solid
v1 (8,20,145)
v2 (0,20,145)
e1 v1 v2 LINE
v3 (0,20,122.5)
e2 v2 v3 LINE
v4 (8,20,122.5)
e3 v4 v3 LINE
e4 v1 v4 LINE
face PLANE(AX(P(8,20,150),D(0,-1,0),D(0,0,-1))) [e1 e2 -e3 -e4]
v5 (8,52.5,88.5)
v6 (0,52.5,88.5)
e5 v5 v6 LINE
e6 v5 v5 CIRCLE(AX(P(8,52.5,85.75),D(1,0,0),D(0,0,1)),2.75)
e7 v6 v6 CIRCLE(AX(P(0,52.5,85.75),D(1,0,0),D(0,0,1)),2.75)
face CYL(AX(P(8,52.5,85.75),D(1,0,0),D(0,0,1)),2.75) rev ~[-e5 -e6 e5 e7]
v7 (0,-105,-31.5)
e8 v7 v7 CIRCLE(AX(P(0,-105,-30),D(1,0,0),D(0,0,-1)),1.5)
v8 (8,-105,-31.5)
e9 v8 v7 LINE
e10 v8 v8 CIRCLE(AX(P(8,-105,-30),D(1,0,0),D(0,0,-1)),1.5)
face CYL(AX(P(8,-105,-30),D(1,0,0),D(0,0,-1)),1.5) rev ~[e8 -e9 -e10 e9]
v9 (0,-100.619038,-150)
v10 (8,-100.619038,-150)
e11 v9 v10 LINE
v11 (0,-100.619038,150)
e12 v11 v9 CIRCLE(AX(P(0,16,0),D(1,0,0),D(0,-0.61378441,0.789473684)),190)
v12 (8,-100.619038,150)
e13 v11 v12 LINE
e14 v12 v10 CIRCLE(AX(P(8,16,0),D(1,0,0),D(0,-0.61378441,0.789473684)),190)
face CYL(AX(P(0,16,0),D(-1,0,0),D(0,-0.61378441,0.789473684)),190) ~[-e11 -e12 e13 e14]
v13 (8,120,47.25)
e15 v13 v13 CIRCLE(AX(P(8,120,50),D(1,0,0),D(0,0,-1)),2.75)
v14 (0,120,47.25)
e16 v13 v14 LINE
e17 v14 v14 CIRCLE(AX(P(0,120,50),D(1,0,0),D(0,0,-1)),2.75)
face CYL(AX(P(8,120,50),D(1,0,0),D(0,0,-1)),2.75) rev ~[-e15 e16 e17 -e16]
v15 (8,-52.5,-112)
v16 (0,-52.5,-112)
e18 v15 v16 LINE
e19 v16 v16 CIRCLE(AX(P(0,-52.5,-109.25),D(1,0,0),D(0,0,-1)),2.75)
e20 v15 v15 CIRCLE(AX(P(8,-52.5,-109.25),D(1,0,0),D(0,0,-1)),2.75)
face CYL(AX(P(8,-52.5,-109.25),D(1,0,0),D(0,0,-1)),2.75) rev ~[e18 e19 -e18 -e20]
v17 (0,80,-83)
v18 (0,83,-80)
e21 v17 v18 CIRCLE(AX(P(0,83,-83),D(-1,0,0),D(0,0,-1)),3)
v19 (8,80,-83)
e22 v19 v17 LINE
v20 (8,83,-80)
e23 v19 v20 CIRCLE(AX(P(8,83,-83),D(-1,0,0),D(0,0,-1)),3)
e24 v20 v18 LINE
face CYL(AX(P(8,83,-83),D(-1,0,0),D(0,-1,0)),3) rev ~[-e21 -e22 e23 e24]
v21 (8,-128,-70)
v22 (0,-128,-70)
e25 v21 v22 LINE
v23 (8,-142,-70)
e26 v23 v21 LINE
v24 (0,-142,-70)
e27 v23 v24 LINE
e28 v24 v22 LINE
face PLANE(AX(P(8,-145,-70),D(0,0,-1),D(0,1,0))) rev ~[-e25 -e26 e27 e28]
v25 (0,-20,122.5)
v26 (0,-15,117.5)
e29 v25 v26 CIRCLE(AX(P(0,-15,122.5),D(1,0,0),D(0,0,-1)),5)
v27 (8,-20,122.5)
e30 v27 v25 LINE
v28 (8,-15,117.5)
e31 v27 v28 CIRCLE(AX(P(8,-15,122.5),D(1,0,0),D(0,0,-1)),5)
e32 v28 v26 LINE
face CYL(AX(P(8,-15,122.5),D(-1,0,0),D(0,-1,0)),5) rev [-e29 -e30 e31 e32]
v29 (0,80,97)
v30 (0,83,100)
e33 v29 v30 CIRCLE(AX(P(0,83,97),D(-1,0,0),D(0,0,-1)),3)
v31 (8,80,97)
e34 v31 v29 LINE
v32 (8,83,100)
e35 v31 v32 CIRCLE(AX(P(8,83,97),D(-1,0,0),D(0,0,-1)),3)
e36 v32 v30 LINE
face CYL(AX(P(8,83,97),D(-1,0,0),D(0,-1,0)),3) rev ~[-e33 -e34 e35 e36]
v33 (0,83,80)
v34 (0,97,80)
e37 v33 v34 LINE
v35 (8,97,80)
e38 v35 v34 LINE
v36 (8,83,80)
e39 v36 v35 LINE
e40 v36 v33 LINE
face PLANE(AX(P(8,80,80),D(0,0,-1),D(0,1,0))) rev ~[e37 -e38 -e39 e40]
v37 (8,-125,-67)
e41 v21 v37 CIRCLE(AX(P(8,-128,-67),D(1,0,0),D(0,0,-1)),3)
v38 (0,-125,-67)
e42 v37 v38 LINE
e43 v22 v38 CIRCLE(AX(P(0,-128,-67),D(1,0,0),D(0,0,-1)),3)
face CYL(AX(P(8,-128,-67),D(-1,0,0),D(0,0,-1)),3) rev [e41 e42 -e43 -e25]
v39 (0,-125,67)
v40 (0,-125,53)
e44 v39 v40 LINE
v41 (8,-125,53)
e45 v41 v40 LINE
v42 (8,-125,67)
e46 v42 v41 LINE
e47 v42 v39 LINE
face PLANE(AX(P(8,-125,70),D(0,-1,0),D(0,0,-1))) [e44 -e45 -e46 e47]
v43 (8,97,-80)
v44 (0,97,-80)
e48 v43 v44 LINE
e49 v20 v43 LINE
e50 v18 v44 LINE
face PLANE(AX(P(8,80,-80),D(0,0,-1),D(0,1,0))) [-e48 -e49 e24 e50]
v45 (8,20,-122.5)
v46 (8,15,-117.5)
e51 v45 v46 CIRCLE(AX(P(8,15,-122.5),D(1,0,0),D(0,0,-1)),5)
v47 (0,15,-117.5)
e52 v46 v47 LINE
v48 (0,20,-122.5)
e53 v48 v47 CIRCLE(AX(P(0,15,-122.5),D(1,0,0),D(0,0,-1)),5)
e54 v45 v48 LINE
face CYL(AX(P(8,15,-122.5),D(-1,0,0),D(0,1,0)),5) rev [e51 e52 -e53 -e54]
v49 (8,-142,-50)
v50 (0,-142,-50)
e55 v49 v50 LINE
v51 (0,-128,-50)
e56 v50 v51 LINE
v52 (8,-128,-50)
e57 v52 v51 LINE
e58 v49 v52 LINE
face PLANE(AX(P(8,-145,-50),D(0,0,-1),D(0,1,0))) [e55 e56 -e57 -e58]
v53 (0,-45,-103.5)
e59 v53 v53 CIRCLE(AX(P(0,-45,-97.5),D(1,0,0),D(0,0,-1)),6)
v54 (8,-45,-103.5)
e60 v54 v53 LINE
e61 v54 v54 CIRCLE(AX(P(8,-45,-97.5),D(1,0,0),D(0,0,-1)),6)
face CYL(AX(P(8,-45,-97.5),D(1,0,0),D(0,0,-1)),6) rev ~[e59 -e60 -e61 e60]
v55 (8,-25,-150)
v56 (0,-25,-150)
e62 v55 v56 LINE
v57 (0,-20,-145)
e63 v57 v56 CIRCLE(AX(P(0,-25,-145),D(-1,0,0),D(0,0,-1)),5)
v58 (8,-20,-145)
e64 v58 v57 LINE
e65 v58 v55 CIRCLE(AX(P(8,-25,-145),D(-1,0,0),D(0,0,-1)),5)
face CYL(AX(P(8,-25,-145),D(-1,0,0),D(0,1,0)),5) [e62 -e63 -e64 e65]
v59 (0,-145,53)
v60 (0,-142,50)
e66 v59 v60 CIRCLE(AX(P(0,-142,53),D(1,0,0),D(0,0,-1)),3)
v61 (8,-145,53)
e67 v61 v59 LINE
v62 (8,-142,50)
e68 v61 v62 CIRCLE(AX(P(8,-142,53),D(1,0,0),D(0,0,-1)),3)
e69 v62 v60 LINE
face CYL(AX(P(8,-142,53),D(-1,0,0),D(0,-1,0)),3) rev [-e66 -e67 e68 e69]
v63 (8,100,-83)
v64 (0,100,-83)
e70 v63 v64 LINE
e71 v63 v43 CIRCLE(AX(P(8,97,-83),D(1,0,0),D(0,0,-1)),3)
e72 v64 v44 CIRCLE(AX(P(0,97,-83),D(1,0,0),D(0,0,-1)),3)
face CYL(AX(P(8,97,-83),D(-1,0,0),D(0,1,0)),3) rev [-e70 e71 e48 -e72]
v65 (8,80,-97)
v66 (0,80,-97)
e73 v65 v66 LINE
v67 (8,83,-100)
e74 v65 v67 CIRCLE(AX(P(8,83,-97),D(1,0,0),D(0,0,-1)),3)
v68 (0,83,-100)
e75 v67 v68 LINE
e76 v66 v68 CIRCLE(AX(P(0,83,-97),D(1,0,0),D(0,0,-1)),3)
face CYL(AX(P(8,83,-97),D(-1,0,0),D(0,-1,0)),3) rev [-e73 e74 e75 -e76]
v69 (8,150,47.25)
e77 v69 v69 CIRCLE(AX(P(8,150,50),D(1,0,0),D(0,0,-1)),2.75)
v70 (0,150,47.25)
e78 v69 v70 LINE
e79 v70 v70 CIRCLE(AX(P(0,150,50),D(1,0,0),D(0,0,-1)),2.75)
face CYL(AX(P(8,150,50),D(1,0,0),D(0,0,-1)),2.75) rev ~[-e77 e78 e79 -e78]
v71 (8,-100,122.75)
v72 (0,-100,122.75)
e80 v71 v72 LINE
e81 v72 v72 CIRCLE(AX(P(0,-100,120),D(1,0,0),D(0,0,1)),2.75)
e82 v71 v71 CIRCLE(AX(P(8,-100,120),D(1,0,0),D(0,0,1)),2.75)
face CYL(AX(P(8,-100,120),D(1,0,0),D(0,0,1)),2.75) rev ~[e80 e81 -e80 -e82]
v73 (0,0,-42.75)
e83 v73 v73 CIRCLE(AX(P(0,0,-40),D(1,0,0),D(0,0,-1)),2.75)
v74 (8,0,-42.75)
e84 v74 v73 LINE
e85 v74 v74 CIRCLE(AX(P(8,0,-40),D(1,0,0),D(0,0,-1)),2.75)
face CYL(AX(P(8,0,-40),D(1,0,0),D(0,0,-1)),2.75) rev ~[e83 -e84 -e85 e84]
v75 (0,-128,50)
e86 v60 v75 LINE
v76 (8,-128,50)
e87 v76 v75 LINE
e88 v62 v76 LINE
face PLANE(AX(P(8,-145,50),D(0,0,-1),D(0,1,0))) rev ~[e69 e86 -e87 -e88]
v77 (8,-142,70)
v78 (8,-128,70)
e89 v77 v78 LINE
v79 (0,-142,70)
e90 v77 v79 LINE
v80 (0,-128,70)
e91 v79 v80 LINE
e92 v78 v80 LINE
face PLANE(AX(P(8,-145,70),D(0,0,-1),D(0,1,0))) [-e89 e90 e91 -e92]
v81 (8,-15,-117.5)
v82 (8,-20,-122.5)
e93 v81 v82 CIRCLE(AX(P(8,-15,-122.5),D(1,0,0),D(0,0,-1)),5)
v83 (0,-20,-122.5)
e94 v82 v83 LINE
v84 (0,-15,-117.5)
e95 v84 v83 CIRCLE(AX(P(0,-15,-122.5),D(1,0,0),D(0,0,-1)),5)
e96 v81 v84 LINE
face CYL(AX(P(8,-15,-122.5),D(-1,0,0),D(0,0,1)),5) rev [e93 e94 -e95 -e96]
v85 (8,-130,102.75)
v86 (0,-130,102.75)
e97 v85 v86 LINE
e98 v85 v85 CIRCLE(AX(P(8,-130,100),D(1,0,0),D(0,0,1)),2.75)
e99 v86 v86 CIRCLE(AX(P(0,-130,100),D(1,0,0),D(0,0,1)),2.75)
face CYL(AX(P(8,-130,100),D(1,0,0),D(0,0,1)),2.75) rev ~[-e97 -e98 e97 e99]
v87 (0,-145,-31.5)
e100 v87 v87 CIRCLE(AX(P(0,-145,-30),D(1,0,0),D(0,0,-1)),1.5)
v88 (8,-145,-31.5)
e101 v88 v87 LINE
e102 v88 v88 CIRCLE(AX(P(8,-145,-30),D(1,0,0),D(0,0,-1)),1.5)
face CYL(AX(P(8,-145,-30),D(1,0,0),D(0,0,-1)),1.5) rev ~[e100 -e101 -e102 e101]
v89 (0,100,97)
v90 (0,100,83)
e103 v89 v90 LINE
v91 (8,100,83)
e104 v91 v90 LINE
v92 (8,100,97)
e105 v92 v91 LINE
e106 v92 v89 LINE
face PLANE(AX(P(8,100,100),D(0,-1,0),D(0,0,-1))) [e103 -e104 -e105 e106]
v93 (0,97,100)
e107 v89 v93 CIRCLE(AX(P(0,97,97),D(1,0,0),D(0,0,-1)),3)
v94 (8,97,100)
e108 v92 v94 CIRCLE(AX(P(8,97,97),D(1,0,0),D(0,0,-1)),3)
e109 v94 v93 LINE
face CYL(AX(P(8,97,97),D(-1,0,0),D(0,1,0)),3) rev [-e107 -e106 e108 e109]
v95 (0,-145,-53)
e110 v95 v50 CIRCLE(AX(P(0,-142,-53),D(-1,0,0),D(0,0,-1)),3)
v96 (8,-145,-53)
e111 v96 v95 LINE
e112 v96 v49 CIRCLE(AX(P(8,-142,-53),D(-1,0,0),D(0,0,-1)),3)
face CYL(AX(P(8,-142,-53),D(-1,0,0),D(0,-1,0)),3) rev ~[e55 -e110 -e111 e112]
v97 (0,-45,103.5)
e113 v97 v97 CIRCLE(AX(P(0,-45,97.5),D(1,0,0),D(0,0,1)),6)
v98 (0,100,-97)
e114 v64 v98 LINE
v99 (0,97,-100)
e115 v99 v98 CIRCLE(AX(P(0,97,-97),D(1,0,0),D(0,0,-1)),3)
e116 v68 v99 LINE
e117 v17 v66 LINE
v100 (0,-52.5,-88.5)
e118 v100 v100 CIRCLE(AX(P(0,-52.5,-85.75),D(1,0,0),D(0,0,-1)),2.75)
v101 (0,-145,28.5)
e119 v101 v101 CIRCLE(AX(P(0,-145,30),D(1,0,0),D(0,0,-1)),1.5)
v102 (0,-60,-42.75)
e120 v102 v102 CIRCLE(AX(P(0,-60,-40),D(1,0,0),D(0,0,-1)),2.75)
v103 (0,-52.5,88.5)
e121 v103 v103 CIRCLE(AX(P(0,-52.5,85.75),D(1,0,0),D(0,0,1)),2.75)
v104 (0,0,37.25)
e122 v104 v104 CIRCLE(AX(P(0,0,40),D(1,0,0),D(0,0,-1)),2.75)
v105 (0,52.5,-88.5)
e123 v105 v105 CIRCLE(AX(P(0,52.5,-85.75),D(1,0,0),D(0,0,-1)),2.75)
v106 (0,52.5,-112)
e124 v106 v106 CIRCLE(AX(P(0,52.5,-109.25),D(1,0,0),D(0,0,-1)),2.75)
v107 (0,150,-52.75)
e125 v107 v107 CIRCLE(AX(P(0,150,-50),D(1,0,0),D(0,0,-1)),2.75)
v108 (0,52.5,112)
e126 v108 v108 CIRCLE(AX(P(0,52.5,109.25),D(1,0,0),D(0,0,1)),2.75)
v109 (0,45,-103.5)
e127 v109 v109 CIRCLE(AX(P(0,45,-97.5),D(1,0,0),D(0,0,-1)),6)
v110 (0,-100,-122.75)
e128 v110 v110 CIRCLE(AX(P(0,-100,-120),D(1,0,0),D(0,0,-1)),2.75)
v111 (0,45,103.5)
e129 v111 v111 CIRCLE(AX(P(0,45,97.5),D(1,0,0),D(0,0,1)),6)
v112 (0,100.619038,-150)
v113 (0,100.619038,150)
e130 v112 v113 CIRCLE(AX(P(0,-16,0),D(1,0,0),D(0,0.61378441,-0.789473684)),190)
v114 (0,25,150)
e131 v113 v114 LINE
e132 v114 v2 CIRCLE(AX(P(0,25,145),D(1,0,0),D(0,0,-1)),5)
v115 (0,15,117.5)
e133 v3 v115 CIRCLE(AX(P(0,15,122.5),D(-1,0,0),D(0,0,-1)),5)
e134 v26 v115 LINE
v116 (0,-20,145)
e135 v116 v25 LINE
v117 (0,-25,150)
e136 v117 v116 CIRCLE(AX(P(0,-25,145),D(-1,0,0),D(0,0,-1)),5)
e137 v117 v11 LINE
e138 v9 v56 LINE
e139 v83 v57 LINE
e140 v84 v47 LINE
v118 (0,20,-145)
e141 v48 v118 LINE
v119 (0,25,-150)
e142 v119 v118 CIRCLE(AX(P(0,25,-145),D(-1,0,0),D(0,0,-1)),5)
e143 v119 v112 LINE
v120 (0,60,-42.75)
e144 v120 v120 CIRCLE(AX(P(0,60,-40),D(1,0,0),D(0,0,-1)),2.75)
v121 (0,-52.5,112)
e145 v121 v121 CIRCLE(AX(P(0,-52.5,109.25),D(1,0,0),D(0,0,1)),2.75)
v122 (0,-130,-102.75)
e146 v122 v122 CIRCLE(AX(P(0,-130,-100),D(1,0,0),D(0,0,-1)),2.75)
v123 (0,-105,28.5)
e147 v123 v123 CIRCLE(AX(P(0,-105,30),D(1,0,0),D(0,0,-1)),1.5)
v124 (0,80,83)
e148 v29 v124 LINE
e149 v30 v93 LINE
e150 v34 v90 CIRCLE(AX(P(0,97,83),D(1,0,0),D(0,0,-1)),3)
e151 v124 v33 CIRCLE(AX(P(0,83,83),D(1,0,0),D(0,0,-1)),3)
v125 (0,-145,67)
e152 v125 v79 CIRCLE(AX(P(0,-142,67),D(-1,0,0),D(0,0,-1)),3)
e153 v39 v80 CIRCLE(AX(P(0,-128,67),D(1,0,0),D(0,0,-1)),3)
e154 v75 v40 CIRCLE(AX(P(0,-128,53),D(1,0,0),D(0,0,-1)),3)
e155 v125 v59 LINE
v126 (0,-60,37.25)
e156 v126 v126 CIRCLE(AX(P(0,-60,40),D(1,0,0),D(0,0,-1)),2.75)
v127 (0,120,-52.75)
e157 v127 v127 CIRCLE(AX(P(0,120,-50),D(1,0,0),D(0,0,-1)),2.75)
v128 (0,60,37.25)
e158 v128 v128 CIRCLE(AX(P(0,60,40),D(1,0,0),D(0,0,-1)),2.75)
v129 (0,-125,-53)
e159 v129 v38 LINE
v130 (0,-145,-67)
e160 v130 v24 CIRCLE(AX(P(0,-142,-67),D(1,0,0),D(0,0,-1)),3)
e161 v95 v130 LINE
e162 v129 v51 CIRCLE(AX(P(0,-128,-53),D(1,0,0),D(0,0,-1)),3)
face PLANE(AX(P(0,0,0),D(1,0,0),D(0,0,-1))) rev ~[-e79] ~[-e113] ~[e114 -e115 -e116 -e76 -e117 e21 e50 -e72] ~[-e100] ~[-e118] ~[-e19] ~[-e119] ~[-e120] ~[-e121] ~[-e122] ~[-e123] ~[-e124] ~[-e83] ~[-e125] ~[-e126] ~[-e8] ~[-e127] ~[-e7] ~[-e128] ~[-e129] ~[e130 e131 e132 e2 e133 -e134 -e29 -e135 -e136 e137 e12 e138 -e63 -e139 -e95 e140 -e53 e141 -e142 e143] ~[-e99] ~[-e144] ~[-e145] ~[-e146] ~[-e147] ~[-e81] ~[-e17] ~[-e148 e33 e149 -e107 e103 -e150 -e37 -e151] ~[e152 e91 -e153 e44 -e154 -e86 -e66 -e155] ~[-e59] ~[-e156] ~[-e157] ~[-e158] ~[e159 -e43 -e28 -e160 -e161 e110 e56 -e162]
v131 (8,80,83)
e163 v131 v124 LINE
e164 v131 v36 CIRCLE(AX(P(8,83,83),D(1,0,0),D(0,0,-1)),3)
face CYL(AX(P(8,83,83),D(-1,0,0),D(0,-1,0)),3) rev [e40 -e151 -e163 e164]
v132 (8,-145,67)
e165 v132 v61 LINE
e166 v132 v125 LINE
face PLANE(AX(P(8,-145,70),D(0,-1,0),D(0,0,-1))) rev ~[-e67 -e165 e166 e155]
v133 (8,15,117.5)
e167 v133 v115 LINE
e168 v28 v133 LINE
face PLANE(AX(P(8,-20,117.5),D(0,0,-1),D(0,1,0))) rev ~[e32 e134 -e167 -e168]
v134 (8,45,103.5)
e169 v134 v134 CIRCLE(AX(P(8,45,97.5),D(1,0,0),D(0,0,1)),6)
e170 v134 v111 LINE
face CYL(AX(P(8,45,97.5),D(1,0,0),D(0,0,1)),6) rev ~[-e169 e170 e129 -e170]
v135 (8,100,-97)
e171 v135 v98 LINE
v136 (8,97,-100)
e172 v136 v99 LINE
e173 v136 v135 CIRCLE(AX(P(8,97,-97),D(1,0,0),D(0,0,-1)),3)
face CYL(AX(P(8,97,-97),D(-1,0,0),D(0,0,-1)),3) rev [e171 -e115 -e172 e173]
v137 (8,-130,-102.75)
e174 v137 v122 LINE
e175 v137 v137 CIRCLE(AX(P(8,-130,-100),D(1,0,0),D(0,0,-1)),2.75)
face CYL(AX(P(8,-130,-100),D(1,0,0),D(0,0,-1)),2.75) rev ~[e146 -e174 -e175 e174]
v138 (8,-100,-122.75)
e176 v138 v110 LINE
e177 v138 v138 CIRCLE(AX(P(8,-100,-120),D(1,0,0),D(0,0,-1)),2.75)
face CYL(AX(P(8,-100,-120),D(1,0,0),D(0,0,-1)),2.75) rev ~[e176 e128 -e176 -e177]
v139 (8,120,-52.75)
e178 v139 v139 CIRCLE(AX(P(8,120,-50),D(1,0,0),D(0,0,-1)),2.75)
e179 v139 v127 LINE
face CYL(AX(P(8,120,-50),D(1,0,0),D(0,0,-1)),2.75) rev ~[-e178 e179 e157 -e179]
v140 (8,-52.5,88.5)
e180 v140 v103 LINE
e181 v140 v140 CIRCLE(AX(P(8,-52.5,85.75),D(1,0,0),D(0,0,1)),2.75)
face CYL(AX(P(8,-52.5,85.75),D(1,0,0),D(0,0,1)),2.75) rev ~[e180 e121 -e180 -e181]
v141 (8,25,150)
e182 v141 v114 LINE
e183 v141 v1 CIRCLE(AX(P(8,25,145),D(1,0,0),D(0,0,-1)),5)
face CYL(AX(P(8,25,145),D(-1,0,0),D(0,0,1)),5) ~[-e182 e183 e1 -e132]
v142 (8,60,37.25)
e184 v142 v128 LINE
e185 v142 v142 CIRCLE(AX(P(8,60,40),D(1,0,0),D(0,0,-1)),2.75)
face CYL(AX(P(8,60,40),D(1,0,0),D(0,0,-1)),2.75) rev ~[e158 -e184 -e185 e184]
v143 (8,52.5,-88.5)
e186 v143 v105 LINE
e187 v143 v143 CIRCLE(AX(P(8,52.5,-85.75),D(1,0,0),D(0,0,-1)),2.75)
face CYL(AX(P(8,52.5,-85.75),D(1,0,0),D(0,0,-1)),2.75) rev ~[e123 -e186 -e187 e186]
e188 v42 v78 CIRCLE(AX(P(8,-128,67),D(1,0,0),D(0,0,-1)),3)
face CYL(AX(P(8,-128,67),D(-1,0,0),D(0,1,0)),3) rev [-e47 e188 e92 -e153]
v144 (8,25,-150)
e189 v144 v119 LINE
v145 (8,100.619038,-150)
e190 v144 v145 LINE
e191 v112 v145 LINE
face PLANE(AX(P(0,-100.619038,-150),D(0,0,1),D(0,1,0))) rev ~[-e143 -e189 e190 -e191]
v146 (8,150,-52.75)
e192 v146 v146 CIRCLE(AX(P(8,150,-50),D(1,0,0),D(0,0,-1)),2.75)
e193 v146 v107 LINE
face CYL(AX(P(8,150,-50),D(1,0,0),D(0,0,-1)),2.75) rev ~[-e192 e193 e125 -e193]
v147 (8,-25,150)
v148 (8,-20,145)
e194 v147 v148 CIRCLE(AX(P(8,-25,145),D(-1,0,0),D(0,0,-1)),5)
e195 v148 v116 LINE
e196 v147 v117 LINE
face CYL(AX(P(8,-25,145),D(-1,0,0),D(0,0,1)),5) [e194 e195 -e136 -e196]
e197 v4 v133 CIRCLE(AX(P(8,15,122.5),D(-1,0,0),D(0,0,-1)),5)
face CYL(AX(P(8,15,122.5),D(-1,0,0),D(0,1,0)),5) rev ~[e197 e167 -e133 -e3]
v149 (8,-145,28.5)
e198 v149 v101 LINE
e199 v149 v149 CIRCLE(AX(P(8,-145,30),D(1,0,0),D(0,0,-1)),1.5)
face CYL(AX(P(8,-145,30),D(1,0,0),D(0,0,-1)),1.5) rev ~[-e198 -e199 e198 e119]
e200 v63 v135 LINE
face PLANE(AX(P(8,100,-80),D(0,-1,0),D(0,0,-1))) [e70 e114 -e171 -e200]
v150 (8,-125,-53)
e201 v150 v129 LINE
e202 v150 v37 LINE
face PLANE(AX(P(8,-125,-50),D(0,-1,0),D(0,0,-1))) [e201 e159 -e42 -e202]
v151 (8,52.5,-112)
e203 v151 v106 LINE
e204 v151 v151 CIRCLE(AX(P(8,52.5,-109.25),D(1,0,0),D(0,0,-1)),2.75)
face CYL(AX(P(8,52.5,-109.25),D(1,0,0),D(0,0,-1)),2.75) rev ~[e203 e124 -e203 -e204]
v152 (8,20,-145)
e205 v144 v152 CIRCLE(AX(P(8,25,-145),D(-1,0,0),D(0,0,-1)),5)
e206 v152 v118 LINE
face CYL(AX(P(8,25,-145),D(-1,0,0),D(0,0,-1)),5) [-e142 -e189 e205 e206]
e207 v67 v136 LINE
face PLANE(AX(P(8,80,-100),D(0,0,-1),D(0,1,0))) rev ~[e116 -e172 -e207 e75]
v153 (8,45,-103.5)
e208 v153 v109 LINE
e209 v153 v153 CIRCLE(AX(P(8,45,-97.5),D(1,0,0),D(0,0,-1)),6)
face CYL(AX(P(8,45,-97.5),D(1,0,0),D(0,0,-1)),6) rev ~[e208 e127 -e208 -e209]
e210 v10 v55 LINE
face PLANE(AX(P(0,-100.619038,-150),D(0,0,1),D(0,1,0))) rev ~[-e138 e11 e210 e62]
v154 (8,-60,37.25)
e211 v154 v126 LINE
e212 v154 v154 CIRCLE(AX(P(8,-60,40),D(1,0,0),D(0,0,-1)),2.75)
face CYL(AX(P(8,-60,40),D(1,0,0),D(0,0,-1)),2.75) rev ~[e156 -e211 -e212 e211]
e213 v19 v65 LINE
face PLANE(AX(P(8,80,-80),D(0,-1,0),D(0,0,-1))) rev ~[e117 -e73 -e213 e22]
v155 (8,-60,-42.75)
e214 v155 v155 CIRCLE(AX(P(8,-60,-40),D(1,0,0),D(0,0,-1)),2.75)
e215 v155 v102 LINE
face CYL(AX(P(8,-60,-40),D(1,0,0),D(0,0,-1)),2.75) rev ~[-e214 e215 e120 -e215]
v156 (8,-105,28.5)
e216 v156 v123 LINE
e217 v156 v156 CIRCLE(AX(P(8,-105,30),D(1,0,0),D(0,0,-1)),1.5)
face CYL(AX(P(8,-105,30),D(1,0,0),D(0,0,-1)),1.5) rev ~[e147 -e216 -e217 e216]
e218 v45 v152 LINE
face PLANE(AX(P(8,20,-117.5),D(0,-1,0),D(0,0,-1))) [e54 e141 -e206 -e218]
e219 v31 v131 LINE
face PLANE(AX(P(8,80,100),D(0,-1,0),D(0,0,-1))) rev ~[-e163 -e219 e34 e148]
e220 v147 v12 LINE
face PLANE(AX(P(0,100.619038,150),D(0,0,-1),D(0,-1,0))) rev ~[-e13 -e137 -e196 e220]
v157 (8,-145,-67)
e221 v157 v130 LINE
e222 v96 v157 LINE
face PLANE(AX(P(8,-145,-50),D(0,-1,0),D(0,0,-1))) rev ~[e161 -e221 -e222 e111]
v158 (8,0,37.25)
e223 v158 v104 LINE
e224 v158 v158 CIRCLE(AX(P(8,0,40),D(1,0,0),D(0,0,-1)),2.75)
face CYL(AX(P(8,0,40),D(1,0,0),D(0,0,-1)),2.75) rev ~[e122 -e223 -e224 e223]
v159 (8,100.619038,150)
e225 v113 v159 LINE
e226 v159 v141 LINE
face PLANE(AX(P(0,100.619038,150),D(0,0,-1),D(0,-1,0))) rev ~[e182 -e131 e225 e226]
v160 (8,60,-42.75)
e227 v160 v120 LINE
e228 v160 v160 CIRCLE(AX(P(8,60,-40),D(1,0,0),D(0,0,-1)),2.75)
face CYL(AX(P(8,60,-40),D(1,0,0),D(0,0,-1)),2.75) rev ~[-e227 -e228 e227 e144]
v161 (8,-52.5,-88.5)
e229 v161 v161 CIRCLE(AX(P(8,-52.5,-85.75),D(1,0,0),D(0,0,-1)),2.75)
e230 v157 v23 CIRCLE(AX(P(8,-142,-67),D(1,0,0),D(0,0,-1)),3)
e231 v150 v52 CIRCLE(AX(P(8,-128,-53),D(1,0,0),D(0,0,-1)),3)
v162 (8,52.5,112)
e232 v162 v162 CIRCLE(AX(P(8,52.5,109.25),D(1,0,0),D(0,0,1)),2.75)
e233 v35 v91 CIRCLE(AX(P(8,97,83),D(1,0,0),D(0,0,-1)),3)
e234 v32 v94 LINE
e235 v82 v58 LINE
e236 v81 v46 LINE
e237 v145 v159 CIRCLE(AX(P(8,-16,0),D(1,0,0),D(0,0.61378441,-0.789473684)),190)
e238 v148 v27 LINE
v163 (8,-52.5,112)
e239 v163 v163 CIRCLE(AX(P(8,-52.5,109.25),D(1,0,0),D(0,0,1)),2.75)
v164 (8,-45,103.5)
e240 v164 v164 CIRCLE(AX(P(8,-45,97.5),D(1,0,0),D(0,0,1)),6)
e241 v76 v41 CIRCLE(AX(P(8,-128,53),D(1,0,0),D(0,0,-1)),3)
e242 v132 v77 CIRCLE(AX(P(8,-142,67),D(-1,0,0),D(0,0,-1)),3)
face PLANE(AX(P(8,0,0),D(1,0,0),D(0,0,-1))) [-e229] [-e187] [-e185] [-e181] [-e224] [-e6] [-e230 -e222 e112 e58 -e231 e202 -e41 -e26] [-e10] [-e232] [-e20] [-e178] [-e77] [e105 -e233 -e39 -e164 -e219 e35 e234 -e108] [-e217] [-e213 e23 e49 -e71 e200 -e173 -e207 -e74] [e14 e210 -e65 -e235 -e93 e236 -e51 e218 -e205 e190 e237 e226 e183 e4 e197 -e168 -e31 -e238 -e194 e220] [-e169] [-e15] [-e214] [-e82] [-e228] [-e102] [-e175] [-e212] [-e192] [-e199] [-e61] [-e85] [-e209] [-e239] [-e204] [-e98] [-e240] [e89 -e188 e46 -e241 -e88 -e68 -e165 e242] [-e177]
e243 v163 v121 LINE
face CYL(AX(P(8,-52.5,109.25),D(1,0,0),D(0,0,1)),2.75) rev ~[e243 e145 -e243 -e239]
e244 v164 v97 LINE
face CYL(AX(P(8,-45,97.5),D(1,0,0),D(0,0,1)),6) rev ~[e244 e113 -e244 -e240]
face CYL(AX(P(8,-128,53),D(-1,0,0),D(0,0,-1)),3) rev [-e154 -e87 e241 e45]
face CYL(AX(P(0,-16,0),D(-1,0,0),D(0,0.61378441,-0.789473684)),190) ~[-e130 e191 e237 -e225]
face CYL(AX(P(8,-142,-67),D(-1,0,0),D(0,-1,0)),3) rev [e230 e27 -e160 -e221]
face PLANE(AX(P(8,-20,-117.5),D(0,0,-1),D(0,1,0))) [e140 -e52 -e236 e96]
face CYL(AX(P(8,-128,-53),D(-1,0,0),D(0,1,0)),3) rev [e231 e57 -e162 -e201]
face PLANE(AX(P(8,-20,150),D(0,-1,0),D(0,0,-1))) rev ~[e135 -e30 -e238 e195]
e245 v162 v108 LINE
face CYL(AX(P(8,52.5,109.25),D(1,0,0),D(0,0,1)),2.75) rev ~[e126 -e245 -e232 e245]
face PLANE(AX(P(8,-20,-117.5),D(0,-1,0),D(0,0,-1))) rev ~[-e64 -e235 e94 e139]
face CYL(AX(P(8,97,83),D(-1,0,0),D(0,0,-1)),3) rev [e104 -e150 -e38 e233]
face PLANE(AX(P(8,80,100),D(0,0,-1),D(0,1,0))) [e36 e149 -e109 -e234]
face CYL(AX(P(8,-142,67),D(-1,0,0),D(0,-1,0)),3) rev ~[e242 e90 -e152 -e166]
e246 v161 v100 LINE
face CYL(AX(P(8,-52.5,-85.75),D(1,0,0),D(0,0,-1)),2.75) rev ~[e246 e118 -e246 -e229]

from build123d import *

# Parameters (mm, degrees)
EXTRUDE_1_DEPTH     = 8
SKETCH_2_R          = 6
SKETCH_2_R_2        = 2.75
CUT_EXTRUDE_1_DEPTH = 8
SKETCH_3_R          = 2.75
CUT_EXTRUDE_2_DEPTH = 10
SKETCH_4_W          = 32.5
SKETCH_4_H          = 40
CUT_EXTRUDE_3_DEPTH = 10
FILLET_1_R          = 5
SKETCH_5_R          = 2.75
CUT_EXTRUDE_4_DEPTH = 230.869528211
SKETCH_6_W          = 20
SKETCH_6_H          = 20
CUT_EXTRUDE_5_DEPTH = 230.869528211
FILLET_2_R          = 3
SKETCH_7_R          = 1.5
SKETCH_7_R_2        = 2.75
CUT_EXTRUDE_6_DEPTH = 230.869528211
SKETCH_8_W          = 20
SKETCH_8_H          = 20
CUT_EXTRUDE_7_DEPTH = 230.869528211
FILLET_3_R          = 3


with BuildPart() as part:
    # 草图1 → 凸台-拉伸1 (new body)
    with BuildSketch(Plane(origin=(0, 0, 0), x_dir=(0, 0, -1), z_dir=(1, 0, 0))):
        with BuildLine():
            Line((-150, 100.619037897), (-150, -100.619037897))
            ThreePointArc((-150, -100.619037897), (0, -174), (150, -100.619037897))
            Line((150, -100.619037897), (150, 100.619037897))
            ThreePointArc((150, 100.619037897), (0, 174), (-150, 100.619037897))
        make_face()
    extrude(amount=EXTRUDE_1_DEPTH)

    # 草图2 → 切除-拉伸1 (cut)
    with BuildSketch(Plane(origin=(8, 0, 0), x_dir=(0, 0, -1), z_dir=(1, 0, 0))):
        with Locations((97.5, 45)):
            Circle(SKETCH_2_R)
        with Locations((97.5, -45)):
            Circle(SKETCH_2_R)
        with Locations((85.75, 52.5)):
            Circle(SKETCH_2_R_2)
        with Locations((109.25, 52.5)):
            Circle(SKETCH_2_R_2)
        with Locations((85.75, -52.5)):
            Circle(SKETCH_2_R_2)
        with Locations((109.25, -52.5)):
            Circle(SKETCH_2_R_2)
        with Locations(Location((-109.25, -52.5, 0), (0, 0, 180))):
            Circle(SKETCH_2_R_2)
        with Locations(Location((-85.75, -52.5, 0), (0, 0, 180))):
            Circle(SKETCH_2_R_2)
        with Locations(Location((-109.25, 52.5, 0), (0, 0, 180))):
            Circle(SKETCH_2_R_2)
        with Locations(Location((-85.75, 52.5, 0), (0, 0, 180))):
            Circle(SKETCH_2_R_2)
        with Locations(Location((-97.5, -45, 0), (0, 0, 180))):
            Circle(SKETCH_2_R)
        with Locations(Location((-97.5, 45, 0), (0, 0, 180))):
            Circle(SKETCH_2_R)
    extrude(amount=-CUT_EXTRUDE_1_DEPTH, mode=Mode.SUBTRACT)

    # 草图3 → 切除-拉伸2 (cut)
    with BuildSketch(Plane(origin=(8, 0, 0), x_dir=(0, 0, -1), z_dir=(1, 0, 0))):
        with Locations((-40, 60)):
            Circle(SKETCH_3_R)
        with Locations((40, 60)):
            Circle(SKETCH_3_R)
        with Locations((40, -60)):
            Circle(SKETCH_3_R)
        with Locations((-40, -60)):
            Circle(SKETCH_3_R)
        with Locations((40, 0)):
            Circle(SKETCH_3_R)
        with Locations((-40, 0)):
            Circle(SKETCH_3_R)
    extrude(amount=-CUT_EXTRUDE_2_DEPTH, mode=Mode.SUBTRACT)

    # 草图4 → 切除-拉伸3 (cut)
    with BuildSketch(Plane(origin=(8, 0, 0), x_dir=(0, 0, -1), z_dir=(1, 0, 0))):
        with Locations((133.75, 0)):
            Rectangle(SKETCH_4_W, SKETCH_4_H)
        with Locations((-133.75, 0)):
            Rectangle(SKETCH_4_W, SKETCH_4_H)
    extrude(amount=-CUT_EXTRUDE_3_DEPTH, mode=Mode.SUBTRACT)

    # 圆角1
    fillet_1_edges = [part.edges().sort_by_distance(p)[0] for p in [
        (4, -20, -117.5),
        (4, 20, -117.5),
        (4, 20, -150),
        (4, -20, -150),
        (4, 20, 150),
        (4, 20, 117.5),
        (4, -20, 117.5),
        (4, -20, 150),
    ]]
    fillet(fillet_1_edges, radius=FILLET_1_R)

    # 草图5 → 切除-拉伸4 (cut, through all)
    with BuildSketch(Plane(origin=(8, 0, 0), x_dir=(0, 0, -1), z_dir=(1, 0, 0))):
        with Locations((50, 150)):
            Circle(SKETCH_5_R)
        with Locations((-50, 150)):
            Circle(SKETCH_5_R)
        with Locations((-50, 120)):
            Circle(SKETCH_5_R)
        with Locations((50, 120)):
            Circle(SKETCH_5_R)
    extrude(amount=-CUT_EXTRUDE_4_DEPTH, mode=Mode.SUBTRACT)

    # 草图6 → 切除-拉伸5 (cut, through all)
    with BuildSketch(Plane(origin=(8, 0, 0), x_dir=(0, 0, -1), z_dir=(1, 0, 0))):
        with Locations((-90, 90)):
            Rectangle(SKETCH_6_W, SKETCH_6_H)
        with Locations((90, 90)):
            Rectangle(SKETCH_6_W, SKETCH_6_H)
    extrude(amount=-CUT_EXTRUDE_5_DEPTH, mode=Mode.SUBTRACT)

    # 圆角2
    fillet_2_edges = [part.edges().sort_by_distance(p)[0] for p in [
        (4, 80, 100),
        (4, 100, 100),
        (4, 100, 80),
        (4, 80, 80),
        (4, 100, -80),
        (4, 100, -100),
        (4, 80, -100),
        (4, 80, -80),
    ]]
    fillet(fillet_2_edges, radius=FILLET_2_R)

    # 草图7 → 切除-拉伸6 (cut, through all)
    with BuildSketch(Plane(origin=(8, 0, 0), x_dir=(0, 0, -1), z_dir=(1, 0, 0))):
        with Locations((-30, -105)):
            Circle(SKETCH_7_R)
        with Locations((-30, -145)):
            Circle(SKETCH_7_R)
        with Locations((30, -145)):
            Circle(SKETCH_7_R)
        with Locations((30, -105)):
            Circle(SKETCH_7_R)
        with Locations((120, -100)):
            Circle(SKETCH_7_R_2)
        with Locations((100, -130)):
            Circle(SKETCH_7_R_2)
        with Locations(Location((-100, -130, 0), (0, 0, 180))):
            Circle(SKETCH_7_R_2)
        with Locations(Location((-120, -100, 0), (0, 0, 180))):
            Circle(SKETCH_7_R_2)
    extrude(amount=-CUT_EXTRUDE_6_DEPTH, mode=Mode.SUBTRACT)

    # 草图8 → 切除-拉伸7 (cut, through all)
    with BuildSketch(Plane(origin=(8, 0, 0), x_dir=(0, 0, -1), z_dir=(1, 0, 0))):
        with Locations((60, -135)):
            Rectangle(SKETCH_8_W, SKETCH_8_H)
        with Locations((-60, -135)):
            Rectangle(SKETCH_8_W, SKETCH_8_H)
    extrude(amount=-CUT_EXTRUDE_7_DEPTH, mode=Mode.SUBTRACT)

    # 圆角3
    fillet_3_edges = [part.edges().sort_by_distance(p)[0] for p in [
        (4, -145, -50),
        (4, -125, -50),
        (4, -125, -70),
        (4, -145, -70),
        (4, -125, 70),
        (4, -125, 50),
        (4, -145, 50),
        (4, -145, 70),
    ]]
    fillet(fillet_3_edges, radius=FILLET_3_R)


solid = part.part
